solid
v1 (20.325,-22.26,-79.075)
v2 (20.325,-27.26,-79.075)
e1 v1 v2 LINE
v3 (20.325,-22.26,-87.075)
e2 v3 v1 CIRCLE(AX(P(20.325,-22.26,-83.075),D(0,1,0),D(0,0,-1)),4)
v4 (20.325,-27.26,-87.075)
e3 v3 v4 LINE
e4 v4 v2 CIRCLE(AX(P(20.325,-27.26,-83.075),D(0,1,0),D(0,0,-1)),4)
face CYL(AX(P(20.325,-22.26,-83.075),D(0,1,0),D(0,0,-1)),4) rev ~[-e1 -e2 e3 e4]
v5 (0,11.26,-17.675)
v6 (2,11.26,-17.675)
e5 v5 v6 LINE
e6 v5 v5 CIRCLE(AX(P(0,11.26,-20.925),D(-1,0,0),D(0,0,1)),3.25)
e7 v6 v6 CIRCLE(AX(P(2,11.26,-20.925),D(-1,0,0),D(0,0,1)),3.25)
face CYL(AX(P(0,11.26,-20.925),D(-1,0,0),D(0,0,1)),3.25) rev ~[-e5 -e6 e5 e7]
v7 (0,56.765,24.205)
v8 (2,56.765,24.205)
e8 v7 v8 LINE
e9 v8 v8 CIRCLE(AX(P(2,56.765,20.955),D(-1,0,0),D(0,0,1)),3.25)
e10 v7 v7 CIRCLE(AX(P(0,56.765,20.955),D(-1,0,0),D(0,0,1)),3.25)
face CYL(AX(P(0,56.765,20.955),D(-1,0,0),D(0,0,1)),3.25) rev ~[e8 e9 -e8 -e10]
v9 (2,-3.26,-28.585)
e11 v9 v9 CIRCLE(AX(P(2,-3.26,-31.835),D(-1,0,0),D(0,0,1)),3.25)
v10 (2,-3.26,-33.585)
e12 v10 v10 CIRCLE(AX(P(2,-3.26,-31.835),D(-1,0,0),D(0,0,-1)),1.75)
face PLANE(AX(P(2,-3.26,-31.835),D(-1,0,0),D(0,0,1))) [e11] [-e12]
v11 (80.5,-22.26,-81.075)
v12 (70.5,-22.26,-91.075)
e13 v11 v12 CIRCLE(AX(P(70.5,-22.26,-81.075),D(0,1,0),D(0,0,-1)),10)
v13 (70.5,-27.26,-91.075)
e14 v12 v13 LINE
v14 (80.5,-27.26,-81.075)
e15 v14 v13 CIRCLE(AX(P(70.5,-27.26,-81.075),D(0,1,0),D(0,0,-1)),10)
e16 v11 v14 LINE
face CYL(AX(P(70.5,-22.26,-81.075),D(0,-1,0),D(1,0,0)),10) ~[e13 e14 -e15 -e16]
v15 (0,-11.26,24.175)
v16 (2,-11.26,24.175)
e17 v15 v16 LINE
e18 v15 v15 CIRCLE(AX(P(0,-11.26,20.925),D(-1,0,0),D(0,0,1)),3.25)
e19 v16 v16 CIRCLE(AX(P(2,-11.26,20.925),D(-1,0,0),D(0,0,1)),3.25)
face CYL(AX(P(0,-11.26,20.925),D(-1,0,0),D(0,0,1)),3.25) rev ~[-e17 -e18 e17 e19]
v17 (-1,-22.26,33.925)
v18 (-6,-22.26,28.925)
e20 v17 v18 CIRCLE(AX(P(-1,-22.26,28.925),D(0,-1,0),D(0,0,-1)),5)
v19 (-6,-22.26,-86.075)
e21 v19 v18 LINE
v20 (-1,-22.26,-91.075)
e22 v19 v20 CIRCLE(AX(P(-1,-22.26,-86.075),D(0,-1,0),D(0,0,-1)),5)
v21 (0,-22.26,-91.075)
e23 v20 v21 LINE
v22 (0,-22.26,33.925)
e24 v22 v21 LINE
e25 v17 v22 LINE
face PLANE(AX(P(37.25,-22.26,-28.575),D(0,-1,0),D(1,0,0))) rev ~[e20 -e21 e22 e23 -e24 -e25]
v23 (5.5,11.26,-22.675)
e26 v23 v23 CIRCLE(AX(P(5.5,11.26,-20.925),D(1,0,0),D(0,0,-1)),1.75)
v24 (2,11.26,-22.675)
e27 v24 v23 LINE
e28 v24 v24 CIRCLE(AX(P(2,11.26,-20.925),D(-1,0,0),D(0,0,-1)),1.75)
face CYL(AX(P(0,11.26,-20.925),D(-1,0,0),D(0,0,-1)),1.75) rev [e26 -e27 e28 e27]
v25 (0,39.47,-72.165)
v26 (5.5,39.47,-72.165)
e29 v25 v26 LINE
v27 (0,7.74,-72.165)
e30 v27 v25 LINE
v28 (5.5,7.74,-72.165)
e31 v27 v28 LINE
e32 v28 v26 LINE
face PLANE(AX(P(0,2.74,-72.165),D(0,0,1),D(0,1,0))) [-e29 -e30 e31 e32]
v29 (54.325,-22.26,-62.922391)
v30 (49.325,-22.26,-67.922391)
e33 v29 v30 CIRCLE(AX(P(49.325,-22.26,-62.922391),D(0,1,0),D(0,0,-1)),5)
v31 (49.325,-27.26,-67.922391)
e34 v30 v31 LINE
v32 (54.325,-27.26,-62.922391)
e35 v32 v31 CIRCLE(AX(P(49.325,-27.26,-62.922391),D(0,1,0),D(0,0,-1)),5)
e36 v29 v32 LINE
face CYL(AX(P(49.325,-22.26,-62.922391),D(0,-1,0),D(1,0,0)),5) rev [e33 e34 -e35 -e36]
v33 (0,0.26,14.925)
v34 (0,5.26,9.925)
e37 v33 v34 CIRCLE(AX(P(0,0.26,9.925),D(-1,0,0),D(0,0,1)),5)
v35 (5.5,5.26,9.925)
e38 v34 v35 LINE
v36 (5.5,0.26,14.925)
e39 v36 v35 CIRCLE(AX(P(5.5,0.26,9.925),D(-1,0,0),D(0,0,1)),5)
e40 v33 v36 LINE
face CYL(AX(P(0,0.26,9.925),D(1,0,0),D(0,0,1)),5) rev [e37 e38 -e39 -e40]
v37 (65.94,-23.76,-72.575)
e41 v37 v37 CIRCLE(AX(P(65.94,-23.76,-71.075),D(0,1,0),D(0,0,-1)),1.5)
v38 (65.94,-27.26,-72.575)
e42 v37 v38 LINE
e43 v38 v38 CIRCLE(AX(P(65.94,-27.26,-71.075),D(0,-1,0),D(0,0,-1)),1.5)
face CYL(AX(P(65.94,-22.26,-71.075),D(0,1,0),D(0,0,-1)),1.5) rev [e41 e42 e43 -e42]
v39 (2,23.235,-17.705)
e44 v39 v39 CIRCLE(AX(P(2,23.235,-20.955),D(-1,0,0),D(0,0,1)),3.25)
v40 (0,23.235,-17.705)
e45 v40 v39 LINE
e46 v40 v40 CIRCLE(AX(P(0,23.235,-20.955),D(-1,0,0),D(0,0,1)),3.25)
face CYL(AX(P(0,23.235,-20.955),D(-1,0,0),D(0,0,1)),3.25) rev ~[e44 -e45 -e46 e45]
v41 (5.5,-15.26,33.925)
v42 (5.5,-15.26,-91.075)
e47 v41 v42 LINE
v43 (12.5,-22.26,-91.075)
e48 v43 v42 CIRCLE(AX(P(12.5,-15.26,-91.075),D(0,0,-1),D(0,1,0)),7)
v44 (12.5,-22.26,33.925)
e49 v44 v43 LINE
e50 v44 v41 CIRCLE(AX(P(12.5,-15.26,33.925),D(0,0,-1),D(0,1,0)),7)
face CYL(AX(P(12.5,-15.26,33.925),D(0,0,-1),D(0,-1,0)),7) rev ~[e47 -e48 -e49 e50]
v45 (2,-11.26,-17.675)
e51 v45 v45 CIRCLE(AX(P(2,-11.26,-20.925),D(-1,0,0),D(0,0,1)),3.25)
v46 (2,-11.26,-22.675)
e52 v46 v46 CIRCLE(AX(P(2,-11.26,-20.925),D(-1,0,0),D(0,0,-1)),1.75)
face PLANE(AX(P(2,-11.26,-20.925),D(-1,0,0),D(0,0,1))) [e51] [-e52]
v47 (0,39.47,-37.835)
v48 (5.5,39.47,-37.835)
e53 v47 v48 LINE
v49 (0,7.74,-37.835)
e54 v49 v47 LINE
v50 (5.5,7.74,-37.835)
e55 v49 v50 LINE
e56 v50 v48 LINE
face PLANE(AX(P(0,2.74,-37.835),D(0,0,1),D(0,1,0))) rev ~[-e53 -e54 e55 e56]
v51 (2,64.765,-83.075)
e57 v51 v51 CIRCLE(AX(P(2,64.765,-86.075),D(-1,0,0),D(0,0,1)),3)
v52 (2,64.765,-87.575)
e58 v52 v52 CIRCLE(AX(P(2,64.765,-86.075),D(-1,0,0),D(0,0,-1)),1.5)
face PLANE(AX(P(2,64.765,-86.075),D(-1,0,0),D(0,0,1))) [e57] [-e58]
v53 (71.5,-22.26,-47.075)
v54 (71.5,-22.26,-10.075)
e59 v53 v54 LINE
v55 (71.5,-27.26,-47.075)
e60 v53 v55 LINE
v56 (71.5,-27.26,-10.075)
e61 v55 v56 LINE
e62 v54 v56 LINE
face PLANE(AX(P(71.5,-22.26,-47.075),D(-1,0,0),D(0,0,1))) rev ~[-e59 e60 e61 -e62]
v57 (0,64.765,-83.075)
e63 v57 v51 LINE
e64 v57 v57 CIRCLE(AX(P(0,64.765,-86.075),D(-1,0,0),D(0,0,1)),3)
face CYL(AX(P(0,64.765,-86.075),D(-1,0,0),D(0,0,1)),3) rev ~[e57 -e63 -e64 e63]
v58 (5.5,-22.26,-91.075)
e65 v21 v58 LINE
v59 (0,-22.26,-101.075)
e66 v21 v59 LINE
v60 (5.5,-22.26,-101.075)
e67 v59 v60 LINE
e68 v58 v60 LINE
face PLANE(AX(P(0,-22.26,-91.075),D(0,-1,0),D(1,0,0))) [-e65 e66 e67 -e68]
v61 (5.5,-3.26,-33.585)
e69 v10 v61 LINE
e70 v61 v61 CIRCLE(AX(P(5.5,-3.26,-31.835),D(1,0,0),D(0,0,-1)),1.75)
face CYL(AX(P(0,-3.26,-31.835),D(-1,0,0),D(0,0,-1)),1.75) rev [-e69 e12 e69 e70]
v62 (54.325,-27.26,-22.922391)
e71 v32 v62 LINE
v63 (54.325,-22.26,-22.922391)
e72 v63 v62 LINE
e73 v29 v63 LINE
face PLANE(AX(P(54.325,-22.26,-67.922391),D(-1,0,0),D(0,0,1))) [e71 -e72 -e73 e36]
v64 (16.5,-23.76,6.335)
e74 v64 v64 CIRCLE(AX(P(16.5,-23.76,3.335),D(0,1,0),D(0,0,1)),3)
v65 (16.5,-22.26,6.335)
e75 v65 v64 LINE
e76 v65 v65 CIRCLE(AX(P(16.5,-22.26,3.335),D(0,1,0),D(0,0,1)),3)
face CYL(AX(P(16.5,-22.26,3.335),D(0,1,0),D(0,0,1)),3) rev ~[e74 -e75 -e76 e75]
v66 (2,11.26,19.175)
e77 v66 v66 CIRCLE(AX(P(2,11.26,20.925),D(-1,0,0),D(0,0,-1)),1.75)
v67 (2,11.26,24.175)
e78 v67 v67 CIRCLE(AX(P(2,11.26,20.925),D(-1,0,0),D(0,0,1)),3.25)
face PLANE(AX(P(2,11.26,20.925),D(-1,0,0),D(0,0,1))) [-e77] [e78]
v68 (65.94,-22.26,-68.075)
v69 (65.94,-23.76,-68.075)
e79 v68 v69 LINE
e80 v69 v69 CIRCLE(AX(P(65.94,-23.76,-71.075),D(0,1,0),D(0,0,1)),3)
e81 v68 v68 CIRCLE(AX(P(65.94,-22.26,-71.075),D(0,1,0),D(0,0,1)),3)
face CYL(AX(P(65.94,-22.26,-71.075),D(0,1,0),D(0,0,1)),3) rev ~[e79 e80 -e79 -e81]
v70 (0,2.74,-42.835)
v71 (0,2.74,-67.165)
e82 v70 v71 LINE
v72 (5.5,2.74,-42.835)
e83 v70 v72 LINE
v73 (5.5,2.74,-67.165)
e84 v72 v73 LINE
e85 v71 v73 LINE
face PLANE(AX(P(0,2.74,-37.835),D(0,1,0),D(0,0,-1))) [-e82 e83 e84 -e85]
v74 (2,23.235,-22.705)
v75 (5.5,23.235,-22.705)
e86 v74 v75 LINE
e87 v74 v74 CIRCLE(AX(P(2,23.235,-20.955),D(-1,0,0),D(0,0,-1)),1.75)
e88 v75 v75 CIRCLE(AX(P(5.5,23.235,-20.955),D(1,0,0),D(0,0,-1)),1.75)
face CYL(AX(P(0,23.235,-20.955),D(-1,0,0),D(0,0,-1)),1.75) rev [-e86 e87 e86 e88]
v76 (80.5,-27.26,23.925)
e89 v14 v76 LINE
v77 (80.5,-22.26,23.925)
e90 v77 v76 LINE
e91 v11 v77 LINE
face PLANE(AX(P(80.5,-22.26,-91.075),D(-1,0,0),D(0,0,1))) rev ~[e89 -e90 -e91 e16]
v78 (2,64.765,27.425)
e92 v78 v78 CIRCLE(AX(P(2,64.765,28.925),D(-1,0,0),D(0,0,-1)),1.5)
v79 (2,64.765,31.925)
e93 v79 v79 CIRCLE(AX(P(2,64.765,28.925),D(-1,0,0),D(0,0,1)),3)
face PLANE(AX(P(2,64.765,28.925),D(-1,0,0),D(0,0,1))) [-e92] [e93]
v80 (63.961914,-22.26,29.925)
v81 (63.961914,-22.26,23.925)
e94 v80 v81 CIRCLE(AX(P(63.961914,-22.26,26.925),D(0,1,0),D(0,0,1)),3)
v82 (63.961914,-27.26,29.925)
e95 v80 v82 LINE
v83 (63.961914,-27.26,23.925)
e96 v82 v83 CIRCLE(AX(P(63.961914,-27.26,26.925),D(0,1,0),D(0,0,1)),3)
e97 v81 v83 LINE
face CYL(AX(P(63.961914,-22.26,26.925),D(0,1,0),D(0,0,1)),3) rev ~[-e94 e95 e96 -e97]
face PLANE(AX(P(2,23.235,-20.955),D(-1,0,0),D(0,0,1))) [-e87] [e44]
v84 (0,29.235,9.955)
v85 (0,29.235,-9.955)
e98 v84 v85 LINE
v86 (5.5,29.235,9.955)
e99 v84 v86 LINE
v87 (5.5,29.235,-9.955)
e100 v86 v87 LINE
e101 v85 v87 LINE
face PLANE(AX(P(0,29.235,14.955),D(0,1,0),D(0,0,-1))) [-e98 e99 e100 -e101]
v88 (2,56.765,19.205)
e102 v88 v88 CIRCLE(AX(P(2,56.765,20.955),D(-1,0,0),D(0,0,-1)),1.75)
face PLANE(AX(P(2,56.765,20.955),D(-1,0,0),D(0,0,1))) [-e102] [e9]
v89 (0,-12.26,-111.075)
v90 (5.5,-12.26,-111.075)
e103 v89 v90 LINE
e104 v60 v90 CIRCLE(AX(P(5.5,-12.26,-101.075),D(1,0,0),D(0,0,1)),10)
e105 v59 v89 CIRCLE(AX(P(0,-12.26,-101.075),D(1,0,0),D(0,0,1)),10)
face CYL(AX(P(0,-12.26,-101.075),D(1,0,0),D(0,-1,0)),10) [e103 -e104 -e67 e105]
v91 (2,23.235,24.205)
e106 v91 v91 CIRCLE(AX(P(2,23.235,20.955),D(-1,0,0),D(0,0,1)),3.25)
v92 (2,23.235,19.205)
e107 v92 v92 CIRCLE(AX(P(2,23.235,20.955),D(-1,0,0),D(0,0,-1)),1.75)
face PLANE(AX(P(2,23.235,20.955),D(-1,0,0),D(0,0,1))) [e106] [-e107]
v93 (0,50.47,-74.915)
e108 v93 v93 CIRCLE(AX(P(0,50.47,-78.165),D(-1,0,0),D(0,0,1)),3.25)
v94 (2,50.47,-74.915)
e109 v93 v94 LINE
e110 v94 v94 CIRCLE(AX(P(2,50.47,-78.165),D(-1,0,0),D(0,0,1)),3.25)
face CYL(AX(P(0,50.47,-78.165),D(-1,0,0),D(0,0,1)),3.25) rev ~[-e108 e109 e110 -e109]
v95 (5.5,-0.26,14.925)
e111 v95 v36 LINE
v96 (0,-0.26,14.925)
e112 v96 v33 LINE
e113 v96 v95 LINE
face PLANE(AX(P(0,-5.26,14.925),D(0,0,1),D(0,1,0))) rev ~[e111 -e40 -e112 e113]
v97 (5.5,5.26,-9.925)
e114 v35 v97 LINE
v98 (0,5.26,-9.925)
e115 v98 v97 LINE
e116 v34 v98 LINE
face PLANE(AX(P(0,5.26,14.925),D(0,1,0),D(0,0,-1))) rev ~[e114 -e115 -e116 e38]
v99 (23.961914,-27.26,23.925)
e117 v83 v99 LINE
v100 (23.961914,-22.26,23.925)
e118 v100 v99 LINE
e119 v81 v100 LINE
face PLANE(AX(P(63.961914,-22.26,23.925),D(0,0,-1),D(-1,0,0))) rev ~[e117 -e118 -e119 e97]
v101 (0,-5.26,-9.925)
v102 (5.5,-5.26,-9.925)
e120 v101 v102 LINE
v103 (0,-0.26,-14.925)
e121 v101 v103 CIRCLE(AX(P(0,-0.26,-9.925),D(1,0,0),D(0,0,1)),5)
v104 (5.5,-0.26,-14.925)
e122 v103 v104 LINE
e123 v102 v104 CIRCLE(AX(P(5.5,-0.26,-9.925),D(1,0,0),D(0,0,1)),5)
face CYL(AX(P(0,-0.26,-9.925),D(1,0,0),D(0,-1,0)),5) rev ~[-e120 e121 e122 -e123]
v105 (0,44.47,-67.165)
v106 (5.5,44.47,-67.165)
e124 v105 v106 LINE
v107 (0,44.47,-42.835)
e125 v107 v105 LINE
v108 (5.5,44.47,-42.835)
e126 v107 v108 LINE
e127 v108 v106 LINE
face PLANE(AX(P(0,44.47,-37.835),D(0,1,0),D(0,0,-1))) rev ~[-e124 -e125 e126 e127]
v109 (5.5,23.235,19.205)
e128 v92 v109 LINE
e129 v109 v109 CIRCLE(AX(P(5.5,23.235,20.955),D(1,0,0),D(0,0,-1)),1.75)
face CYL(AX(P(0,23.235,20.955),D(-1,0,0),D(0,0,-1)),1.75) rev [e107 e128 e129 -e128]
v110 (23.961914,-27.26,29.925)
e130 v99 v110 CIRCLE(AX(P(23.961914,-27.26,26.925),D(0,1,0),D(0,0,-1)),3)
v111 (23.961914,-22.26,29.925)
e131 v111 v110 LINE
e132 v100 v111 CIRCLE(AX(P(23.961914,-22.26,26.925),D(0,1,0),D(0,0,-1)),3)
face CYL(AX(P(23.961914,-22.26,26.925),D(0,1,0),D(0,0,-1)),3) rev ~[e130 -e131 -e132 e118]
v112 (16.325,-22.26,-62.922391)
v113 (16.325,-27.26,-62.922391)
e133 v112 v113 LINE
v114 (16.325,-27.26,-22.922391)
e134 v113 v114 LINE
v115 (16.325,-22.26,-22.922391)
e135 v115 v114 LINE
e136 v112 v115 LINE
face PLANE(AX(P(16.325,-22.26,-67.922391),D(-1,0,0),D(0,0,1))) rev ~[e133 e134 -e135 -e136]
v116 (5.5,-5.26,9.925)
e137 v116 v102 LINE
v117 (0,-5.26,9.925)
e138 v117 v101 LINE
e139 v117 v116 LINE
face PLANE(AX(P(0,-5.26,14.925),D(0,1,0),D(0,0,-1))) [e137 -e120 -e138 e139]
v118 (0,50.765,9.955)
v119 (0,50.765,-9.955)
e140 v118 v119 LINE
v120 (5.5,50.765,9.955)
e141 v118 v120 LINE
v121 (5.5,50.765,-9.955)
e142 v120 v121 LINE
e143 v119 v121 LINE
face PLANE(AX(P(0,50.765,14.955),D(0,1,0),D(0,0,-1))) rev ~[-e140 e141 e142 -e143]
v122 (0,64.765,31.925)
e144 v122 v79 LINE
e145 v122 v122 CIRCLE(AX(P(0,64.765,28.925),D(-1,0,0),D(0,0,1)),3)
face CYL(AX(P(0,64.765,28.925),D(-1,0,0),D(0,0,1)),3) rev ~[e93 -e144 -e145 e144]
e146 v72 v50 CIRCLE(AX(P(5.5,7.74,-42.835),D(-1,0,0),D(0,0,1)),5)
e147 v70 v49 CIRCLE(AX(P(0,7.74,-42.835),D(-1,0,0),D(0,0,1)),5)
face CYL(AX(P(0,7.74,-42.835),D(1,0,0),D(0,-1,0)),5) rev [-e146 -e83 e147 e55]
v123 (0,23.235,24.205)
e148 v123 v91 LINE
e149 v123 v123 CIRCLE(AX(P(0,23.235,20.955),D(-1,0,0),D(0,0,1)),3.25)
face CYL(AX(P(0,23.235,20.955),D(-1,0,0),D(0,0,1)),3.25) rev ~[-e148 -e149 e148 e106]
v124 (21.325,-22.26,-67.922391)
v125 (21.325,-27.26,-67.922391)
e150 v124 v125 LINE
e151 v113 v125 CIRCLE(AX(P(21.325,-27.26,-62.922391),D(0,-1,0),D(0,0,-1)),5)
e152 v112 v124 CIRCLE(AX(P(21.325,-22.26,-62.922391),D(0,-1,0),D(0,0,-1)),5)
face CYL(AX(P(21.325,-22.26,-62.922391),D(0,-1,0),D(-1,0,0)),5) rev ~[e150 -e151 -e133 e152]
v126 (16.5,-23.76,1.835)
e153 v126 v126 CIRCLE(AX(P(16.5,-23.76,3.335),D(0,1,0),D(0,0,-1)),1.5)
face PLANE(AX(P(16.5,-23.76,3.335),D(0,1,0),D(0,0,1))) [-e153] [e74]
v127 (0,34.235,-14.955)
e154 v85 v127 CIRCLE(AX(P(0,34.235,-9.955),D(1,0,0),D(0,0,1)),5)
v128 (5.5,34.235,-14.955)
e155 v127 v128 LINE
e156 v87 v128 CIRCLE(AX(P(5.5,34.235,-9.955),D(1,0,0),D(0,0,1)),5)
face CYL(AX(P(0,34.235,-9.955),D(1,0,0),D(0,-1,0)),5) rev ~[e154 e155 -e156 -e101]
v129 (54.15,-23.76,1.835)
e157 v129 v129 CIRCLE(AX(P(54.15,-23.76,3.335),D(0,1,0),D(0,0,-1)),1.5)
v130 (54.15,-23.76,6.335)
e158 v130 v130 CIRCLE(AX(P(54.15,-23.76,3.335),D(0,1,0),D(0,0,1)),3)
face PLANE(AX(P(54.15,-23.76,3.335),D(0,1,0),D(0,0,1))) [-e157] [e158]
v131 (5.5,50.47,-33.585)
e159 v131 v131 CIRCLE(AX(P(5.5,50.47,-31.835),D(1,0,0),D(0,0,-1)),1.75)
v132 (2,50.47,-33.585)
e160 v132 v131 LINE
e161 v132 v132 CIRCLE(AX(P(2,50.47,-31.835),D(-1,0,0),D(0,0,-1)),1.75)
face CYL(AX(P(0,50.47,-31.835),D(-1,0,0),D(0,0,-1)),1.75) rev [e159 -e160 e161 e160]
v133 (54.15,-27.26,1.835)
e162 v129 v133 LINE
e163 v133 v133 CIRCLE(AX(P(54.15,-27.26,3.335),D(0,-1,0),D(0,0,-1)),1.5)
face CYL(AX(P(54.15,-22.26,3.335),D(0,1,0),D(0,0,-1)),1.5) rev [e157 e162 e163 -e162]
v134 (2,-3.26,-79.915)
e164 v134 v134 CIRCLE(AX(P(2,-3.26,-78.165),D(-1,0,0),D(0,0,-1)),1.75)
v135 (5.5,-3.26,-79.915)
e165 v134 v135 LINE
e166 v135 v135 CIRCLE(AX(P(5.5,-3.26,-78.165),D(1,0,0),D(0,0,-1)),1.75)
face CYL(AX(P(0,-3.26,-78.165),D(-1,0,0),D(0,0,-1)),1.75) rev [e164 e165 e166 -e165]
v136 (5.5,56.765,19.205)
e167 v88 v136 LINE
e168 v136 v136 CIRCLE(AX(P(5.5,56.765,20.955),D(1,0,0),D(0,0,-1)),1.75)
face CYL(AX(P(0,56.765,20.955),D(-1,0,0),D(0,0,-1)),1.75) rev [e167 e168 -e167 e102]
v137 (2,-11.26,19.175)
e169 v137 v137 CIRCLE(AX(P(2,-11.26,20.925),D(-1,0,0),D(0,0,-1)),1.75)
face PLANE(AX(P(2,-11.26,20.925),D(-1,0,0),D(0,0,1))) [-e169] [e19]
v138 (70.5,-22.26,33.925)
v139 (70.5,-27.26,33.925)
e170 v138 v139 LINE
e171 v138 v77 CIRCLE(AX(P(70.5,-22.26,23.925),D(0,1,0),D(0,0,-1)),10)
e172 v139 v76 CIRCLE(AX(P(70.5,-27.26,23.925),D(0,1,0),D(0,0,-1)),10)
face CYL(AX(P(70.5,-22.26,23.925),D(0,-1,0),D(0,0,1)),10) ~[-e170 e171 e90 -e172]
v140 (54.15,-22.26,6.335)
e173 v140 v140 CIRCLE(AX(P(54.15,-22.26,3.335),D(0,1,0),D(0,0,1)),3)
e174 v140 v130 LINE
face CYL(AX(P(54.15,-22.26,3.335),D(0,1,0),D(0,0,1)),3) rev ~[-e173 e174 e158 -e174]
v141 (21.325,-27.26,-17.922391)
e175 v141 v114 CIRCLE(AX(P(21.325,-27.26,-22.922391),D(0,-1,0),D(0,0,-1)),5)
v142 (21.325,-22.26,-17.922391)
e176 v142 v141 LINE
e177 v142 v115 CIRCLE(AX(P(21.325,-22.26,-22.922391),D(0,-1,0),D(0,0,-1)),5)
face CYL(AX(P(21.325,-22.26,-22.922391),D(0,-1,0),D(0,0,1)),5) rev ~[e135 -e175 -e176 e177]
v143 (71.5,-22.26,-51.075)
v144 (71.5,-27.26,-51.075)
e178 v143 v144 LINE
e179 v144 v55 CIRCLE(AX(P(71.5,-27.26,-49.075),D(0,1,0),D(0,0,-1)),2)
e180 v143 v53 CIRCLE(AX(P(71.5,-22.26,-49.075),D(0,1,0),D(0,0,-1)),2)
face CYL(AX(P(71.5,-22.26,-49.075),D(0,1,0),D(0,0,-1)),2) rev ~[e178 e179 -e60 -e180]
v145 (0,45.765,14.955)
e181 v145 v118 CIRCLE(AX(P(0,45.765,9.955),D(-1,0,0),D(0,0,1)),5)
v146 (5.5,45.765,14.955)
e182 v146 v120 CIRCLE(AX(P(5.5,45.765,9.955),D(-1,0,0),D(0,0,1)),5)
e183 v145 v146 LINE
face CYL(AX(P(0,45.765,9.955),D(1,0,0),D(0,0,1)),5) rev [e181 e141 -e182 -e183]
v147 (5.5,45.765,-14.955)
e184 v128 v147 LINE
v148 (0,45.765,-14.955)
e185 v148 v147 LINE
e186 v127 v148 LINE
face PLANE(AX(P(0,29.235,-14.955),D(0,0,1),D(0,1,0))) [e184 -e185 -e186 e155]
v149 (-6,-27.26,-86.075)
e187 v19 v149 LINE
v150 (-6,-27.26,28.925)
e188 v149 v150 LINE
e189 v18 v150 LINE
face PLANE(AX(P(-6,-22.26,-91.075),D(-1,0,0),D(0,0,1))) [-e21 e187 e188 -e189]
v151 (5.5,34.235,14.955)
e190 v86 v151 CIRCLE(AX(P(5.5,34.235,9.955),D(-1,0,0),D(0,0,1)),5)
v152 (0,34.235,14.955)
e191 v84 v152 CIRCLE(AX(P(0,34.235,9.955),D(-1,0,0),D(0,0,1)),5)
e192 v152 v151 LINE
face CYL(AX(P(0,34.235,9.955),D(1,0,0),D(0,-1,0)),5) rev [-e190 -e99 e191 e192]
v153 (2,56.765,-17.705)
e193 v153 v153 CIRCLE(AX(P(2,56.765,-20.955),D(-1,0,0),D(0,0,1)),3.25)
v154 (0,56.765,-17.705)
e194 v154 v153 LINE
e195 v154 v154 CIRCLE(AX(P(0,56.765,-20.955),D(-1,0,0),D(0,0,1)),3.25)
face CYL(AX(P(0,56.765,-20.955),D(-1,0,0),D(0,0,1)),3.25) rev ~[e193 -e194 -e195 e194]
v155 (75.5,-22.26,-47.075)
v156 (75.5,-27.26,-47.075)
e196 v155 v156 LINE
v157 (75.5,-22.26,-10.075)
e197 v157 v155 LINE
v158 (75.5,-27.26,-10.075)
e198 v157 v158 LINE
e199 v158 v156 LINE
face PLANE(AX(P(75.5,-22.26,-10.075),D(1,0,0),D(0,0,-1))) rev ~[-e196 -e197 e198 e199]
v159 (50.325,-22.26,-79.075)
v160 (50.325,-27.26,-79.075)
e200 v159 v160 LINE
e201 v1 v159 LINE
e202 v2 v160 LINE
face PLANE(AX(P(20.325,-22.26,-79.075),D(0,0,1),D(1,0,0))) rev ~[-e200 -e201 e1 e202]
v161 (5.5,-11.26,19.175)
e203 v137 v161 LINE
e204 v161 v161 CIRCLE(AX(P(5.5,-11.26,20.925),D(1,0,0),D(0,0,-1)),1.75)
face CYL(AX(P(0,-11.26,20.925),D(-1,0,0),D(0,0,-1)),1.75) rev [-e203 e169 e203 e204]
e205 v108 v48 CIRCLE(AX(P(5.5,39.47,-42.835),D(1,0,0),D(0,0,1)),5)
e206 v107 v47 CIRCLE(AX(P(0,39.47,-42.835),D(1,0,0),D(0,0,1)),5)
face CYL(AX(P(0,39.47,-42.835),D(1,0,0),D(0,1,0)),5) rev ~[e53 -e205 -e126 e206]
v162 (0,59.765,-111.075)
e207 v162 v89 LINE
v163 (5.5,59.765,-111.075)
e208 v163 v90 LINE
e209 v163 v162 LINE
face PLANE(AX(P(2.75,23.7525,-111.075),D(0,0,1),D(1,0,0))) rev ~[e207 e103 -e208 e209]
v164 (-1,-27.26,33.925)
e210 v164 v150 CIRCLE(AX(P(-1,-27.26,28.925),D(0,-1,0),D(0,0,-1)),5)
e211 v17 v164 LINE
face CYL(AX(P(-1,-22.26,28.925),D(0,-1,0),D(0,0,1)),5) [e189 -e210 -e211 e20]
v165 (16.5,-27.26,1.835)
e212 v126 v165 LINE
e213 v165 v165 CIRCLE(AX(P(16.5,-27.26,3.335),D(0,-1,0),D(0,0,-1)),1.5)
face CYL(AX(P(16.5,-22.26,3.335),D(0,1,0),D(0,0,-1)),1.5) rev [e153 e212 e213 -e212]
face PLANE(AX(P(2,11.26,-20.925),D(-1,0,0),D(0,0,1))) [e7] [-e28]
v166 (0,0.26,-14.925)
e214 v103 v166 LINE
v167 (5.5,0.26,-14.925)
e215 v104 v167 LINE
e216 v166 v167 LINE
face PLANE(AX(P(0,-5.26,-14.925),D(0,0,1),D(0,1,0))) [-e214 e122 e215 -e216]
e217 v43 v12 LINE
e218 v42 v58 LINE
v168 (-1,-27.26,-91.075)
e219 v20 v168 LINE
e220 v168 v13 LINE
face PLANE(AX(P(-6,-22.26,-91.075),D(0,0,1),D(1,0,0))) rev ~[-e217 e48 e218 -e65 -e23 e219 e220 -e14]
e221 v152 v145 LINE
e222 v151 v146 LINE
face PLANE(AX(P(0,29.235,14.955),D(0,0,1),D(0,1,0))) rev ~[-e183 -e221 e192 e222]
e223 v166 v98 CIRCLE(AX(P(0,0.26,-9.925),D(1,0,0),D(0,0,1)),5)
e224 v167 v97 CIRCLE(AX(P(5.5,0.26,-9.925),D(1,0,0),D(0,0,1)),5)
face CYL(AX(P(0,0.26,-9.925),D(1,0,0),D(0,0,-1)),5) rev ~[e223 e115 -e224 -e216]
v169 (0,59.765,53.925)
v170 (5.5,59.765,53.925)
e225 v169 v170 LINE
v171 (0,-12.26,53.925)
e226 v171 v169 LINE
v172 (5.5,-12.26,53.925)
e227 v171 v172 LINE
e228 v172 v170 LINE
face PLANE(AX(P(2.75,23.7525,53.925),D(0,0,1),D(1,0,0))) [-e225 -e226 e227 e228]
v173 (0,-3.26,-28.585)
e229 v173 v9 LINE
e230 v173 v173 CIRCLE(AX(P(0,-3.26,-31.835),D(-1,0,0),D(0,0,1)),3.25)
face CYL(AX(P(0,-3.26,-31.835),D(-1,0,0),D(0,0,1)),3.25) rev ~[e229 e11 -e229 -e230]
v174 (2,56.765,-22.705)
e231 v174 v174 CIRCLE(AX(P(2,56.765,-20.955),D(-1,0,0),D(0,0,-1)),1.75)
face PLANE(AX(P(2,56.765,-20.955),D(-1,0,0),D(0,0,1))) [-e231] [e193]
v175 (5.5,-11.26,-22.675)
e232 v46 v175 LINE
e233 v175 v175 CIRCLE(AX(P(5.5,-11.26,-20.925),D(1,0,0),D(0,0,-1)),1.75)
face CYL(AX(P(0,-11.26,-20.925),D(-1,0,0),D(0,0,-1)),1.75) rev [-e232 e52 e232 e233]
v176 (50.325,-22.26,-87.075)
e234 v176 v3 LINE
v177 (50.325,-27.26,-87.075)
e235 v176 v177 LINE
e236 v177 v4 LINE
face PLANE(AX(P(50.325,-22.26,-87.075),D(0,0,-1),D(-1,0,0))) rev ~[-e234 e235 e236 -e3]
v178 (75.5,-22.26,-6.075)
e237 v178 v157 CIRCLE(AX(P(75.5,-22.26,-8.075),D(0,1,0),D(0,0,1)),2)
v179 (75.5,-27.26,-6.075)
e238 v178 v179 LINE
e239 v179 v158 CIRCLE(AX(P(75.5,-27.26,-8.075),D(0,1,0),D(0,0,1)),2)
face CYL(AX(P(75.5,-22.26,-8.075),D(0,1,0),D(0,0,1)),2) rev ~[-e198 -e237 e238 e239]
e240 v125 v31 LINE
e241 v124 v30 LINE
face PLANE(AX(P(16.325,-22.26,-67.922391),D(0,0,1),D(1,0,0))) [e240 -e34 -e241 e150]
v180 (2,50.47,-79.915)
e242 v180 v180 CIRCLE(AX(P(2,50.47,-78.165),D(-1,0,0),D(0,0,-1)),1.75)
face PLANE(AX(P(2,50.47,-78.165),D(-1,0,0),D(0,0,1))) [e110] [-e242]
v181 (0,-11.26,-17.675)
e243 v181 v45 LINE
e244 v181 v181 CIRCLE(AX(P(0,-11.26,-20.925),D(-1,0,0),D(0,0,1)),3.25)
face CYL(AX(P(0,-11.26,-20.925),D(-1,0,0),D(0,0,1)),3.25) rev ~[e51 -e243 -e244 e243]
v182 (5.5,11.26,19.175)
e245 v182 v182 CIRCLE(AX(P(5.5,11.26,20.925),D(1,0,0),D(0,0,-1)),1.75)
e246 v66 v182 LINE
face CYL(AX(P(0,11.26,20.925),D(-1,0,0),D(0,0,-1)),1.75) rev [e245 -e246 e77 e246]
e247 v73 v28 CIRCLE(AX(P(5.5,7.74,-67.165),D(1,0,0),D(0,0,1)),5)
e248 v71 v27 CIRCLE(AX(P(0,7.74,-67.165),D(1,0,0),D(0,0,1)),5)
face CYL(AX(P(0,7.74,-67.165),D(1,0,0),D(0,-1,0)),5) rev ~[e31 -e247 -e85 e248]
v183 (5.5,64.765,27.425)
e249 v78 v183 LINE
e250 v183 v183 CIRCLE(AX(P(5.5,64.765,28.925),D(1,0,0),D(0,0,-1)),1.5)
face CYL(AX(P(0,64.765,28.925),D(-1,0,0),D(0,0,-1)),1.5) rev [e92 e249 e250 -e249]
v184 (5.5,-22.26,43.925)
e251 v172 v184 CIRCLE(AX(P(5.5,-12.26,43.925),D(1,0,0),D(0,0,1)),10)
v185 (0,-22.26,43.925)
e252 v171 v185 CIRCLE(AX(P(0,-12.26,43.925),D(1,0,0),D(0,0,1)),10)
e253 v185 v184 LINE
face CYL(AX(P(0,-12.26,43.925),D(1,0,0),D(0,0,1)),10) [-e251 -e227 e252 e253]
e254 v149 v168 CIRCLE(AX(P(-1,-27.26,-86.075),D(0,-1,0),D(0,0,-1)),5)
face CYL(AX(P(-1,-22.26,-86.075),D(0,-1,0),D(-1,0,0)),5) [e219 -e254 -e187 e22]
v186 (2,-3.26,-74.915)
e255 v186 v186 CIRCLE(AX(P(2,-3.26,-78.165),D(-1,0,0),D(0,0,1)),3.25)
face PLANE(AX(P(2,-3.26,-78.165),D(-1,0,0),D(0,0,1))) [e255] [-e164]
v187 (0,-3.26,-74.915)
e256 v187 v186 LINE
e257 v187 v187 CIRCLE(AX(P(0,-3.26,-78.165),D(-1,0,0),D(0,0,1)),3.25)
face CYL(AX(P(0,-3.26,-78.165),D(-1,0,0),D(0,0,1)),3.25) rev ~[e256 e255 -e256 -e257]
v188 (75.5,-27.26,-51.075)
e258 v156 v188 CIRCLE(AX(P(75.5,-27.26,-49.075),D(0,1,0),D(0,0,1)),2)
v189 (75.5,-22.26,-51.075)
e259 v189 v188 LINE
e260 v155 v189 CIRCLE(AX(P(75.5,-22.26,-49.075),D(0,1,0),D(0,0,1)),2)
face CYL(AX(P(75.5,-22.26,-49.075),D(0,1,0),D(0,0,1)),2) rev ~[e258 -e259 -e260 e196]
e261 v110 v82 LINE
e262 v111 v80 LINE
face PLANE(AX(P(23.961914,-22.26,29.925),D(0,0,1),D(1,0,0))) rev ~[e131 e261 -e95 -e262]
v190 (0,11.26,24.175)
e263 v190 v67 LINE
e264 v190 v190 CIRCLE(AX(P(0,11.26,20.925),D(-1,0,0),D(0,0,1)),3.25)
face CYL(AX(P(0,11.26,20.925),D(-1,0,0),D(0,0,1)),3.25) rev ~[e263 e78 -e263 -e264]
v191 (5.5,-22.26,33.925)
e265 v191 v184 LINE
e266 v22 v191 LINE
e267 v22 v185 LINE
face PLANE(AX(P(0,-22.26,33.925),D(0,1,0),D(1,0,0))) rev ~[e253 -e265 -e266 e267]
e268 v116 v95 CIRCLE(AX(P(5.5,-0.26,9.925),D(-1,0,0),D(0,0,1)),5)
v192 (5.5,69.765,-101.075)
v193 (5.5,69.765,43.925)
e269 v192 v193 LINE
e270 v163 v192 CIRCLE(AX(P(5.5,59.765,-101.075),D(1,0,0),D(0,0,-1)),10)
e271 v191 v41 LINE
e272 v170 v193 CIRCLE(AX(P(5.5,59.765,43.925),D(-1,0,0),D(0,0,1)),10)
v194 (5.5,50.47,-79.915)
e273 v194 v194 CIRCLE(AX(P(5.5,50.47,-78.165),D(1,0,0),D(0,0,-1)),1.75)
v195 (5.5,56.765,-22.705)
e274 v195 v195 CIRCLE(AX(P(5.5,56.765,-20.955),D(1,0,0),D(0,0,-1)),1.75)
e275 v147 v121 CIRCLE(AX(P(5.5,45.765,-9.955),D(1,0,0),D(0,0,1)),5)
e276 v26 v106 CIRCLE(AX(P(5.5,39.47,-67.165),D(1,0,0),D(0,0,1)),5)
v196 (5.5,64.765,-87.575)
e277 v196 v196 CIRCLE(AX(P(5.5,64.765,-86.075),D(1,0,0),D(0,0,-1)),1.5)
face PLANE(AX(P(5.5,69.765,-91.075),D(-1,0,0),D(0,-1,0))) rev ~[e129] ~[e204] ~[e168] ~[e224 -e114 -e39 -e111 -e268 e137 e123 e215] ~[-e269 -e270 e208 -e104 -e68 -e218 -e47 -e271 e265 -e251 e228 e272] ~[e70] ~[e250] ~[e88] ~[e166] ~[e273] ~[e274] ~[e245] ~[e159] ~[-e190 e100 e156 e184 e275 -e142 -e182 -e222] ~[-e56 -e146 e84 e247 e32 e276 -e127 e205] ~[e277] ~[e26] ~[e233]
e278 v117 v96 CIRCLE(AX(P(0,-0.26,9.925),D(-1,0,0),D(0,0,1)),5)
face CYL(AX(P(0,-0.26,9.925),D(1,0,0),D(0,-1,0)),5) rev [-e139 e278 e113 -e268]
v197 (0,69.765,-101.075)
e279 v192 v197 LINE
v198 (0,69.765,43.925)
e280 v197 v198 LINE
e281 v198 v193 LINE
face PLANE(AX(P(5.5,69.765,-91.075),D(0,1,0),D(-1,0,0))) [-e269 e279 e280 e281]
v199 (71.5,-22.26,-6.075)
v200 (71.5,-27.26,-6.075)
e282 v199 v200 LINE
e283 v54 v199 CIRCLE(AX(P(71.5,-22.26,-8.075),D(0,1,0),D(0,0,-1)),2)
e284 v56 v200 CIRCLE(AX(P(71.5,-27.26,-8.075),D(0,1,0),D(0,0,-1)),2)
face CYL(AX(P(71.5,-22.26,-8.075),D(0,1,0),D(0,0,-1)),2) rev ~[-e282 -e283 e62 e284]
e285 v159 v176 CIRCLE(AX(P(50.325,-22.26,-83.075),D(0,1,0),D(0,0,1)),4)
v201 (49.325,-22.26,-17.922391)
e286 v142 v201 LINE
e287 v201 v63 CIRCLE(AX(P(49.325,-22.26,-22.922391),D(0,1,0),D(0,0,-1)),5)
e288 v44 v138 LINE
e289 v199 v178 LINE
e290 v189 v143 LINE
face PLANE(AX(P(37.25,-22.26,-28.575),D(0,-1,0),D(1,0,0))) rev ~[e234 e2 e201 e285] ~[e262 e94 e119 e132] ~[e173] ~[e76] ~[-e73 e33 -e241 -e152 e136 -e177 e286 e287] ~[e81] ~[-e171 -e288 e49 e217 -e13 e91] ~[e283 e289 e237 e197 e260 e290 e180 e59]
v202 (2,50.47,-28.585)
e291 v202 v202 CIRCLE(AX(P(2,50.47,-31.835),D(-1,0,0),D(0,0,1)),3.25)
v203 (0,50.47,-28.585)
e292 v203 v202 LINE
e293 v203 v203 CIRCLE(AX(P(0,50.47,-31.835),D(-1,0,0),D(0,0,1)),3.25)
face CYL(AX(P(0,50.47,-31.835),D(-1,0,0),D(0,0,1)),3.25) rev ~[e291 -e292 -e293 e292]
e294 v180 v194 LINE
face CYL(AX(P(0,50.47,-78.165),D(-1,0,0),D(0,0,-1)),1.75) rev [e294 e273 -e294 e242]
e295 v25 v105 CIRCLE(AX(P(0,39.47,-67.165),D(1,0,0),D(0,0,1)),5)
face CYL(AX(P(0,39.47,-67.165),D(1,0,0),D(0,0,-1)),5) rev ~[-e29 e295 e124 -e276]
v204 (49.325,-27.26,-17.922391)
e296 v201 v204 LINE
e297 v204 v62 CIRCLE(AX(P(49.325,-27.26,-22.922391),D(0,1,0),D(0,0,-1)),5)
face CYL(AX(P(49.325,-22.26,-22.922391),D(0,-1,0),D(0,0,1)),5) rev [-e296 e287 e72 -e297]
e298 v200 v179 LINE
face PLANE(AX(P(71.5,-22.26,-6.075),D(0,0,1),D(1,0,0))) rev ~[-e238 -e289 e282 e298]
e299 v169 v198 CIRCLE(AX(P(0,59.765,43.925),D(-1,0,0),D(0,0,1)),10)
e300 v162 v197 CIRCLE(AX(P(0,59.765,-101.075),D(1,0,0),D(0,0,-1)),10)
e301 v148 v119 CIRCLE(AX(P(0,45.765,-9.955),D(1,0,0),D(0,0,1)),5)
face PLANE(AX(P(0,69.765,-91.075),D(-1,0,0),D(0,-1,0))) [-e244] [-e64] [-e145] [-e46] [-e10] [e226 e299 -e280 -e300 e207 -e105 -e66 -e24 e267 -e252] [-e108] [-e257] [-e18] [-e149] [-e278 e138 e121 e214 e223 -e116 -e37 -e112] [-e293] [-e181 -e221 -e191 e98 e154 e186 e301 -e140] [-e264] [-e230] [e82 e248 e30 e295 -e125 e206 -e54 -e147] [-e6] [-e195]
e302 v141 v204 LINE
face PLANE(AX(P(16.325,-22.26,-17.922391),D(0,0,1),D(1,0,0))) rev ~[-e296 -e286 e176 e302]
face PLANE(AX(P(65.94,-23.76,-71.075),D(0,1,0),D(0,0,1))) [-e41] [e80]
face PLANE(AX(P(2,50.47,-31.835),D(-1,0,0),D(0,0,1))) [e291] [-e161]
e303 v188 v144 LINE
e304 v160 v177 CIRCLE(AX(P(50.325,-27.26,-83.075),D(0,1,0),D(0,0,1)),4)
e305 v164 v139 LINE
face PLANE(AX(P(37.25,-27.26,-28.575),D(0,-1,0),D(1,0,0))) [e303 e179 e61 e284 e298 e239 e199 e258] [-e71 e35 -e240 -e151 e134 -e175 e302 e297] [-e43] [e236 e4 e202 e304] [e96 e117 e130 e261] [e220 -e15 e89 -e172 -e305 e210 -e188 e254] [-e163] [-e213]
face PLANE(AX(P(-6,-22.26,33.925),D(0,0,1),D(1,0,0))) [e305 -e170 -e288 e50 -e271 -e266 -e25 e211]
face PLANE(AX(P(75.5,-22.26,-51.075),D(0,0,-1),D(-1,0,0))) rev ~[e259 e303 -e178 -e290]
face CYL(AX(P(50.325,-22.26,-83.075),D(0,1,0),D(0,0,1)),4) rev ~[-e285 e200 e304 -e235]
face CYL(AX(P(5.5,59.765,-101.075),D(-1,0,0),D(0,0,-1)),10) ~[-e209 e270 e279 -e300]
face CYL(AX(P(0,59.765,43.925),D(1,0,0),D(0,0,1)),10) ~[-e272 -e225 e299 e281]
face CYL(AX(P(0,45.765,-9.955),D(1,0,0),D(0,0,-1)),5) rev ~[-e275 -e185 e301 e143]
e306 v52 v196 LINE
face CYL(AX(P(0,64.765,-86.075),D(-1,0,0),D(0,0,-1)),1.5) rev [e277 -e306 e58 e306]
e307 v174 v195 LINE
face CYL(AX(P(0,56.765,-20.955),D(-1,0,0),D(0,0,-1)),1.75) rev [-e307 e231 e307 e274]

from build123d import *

# Parameters (mm, degrees)
SKETCH_1_W          = 125
SKETCH_1_H          = 92.025
SKETCH_1_R          = 1.75
SKETCH_1_R_2        = 1.5
SKETCH_1_W_2        = 29.91
SKETCH_1_H_2        = 21.53
SKETCH_1_W_3        = 29.85
SKETCH_1_H_3        = 10.52
SKETCH_1_W_4        = 34.33
SKETCH_1_H_4        = 41.73
EXTRUDE_1_DEPTH     = 5.5
FILLET_1_R          = 5
SKETCH_2_R          = 3
SKETCH_2_R_2        = 1.5
SKETCH_2_R_3        = 3.25
SKETCH_2_R_4        = 1.75
CUT_EXTRUDE_1_DEPTH = 2
SKETCH_3_W          = 86.5
SKETCH_3_H          = 125
SKETCH_3_W_2        = 38
SKETCH_3_H_2        = 50
SKETCH_3_R          = 1.5
EXTRUDE_2_DEPTH     = 5
SKETCH_6_R          = 3
SKETCH_6_R_2        = 1.5
CUT_EXTRUDE_2_DEPTH = 1.5
FILLET_3_R          = 7
FILLET_4_R          = 10
SKETCH_7_W          = 5.5
SKETCH_7_H          = 92.025
EXTRUDE_5_DEPTH     = 20
FILLET_6_R          = 5
EXTRUDE_6_DEPTH     = 20
FILLET_5_R          = 10


with BuildPart() as part:
    # 草图1 → 凸台-拉伸1 (new body)
    with BuildSketch(Plane(origin=(0, 0, 0), x_dir=(0, 0, -1), z_dir=(1, 0, 0))):
        with Locations((28.575, 23.7525)):
            Rectangle(SKETCH_1_W, SKETCH_1_H)
        with Locations((-20.925, 11.26)):
            Circle(SKETCH_1_R, mode=Mode.SUBTRACT)
        with Locations((20.925, 11.26)):
            Circle(SKETCH_1_R, mode=Mode.SUBTRACT)
        with Locations((20.925, -11.26)):
            Circle(SKETCH_1_R, mode=Mode.SUBTRACT)
        with Locations((-20.925, -11.26)):
            Circle(SKETCH_1_R, mode=Mode.SUBTRACT)
        with Locations((-20.955, 56.765)):
            Circle(SKETCH_1_R, mode=Mode.SUBTRACT)
        with Locations((20.955, 56.765)):
            Circle(SKETCH_1_R, mode=Mode.SUBTRACT)
        with Locations((20.955, 23.235)):
            Circle(SKETCH_1_R, mode=Mode.SUBTRACT)
        with Locations((-20.955, 23.235)):
            Circle(SKETCH_1_R, mode=Mode.SUBTRACT)
        with Locations((31.835, 50.47)):
            Circle(SKETCH_1_R, mode=Mode.SUBTRACT)
        with Locations((78.165, 50.47)):
            Circle(SKETCH_1_R, mode=Mode.SUBTRACT)
        with Locations((78.165, -3.26)):
            Circle(SKETCH_1_R, mode=Mode.SUBTRACT)
        with Locations((31.835, -3.26)):
            Circle(SKETCH_1_R, mode=Mode.SUBTRACT)
        with Locations((-28.925, 64.765)):
            Circle(SKETCH_1_R_2, mode=Mode.SUBTRACT)
        with Locations((86.075, 64.765)):
            Circle(SKETCH_1_R_2, mode=Mode.SUBTRACT)
        with Locations((0, 40)):
            Rectangle(SKETCH_1_W_2, SKETCH_1_H_2, mode=Mode.SUBTRACT)
        Rectangle(SKETCH_1_W_3, SKETCH_1_H_3, mode=Mode.SUBTRACT)
        with Locations((55, 23.605)):
            Rectangle(SKETCH_1_W_4, SKETCH_1_H_4, mode=Mode.SUBTRACT)
    extrude(amount=EXTRUDE_1_DEPTH)

    # 圆角1
    fillet_1_edges = [part.edges().sort_by_distance(p)[0] for p in [
        (2.75, 50.765, 14.955),
        (2.75, 29.235, 14.955),
        (2.75, 29.235, -14.955),
        (2.75, 50.765, -14.955),
        (2.75, 5.26, -14.925),
        (2.75, 5.26, 14.925),
        (2.75, -5.26, 14.925),
        (2.75, -5.26, -14.925),
        (2.75, 44.47, -72.165),
        (2.75, 44.47, -37.835),
        (2.75, 2.74, -37.835),
        (2.75, 2.74, -72.165),
    ]]
    fillet(fillet_1_edges, radius=FILLET_1_R)

    # 草图2 → 切除-拉伸1 (cut)
    # profile 1 of 14: a face of its own
    with BuildSketch(Plane.ZY):
        with Locations((-86.075, 64.765)):
            Circle(SKETCH_2_R)
        with Locations((-86.075, 64.765)):
            Circle(SKETCH_2_R_2, mode=Mode.SUBTRACT)
    # profile 2 of 14: a face of its own
    with BuildSketch(Plane.ZY):
        with Locations((-78.165, 50.47)):
            Circle(SKETCH_2_R_3)
        with Locations((-78.165, 50.47)):
            Circle(SKETCH_2_R_4, mode=Mode.SUBTRACT)
    # profile 3 of 14: a face of its own
    with BuildSketch(Plane.ZY):
        with Locations((-31.835, 50.47)):
            Circle(SKETCH_2_R_3)
        with Locations((-31.835, 50.47)):
            Circle(SKETCH_2_R_4, mode=Mode.SUBTRACT)
    # profile 4 of 14: a face of its own
    with BuildSketch(Plane.ZY):
        with Locations((-78.165, -3.26)):
            Circle(SKETCH_2_R_3)
        with Locations((-78.165, -3.26)):
            Circle(SKETCH_2_R_4, mode=Mode.SUBTRACT)
    # profile 5 of 14: a face of its own
    with BuildSketch(Plane.ZY):
        with Locations((-31.835, -3.26)):
            Circle(SKETCH_2_R_3)
        with Locations((-31.835, -3.26)):
            Circle(SKETCH_2_R_4, mode=Mode.SUBTRACT)
    # profile 6 of 14: a face of its own
    with BuildSketch(Plane.ZY):
        with Locations((-20.925, -11.26)):
            Circle(SKETCH_2_R_3)
        with Locations((-20.925, -11.26)):
            Circle(SKETCH_2_R_4, mode=Mode.SUBTRACT)
    # profile 7 of 14: a face of its own
    with BuildSketch(Plane.ZY):
        with Locations((-20.955, 23.235)):
            Circle(SKETCH_2_R_3)
        with Locations((-20.955, 23.235)):
            Circle(SKETCH_2_R_4, mode=Mode.SUBTRACT)
    # profile 8 of 14: a face of its own
    with BuildSketch(Plane.ZY):
        with Locations((-20.925, 11.26)):
            Circle(SKETCH_2_R_3)
        with Locations((-20.925, 11.26)):
            Circle(SKETCH_2_R_4, mode=Mode.SUBTRACT)
    # profile 9 of 14: a face of its own
    with BuildSketch(Plane.ZY):
        with Locations((20.955, 56.765)):
            Circle(SKETCH_2_R_3)
        with Locations((20.955, 56.765)):
            Circle(SKETCH_2_R_4, mode=Mode.SUBTRACT)
    # profile 10 of 14: a face of its own
    with BuildSketch(Plane.ZY):
        with Locations((28.925, 64.765)):
            Circle(SKETCH_2_R)
        with Locations((28.925, 64.765)):
            Circle(SKETCH_2_R_2, mode=Mode.SUBTRACT)
    # profile 11 of 14: a face of its own
    with BuildSketch(Plane.ZY):
        with Locations((20.955, 23.235)):
            Circle(SKETCH_2_R_3)
        with Locations((20.955, 23.235)):
            Circle(SKETCH_2_R_4, mode=Mode.SUBTRACT)
    # profile 12 of 14: a face of its own
    with BuildSketch(Plane.ZY):
        with Locations((20.925, 11.26)):
            Circle(SKETCH_2_R_3)
        with Locations((20.925, 11.26)):
            Circle(SKETCH_2_R_4, mode=Mode.SUBTRACT)
    # profile 13 of 14: a face of its own
    with BuildSketch(Plane.ZY):
        with Locations((20.925, -11.26)):
            Circle(SKETCH_2_R_3)
        with Locations((20.925, -11.26)):
            Circle(SKETCH_2_R_4, mode=Mode.SUBTRACT)
    # profile 14 of 14: a face of its own
    with BuildSketch(Plane.ZY):
        with Locations((-20.955, 56.765)):
            Circle(SKETCH_2_R_3)
    extrude(amount=-CUT_EXTRUDE_1_DEPTH, mode=Mode.SUBTRACT)

    # 草图3 → 凸台-拉伸2 (add)
    with BuildSketch(Plane.XZ.offset(22.26)):
        with Locations((37.25, -28.575)):
            Rectangle(SKETCH_3_W, SKETCH_3_H)
        with BuildLine():
            ThreePointArc((50.325, -79.075), (54.325, -83.075), (50.325, -87.075))
            Line((50.325, -87.075), (20.325, -87.075))
            ThreePointArc((20.325, -87.075), (16.325, -83.075), (20.325, -79.075))
            Line((20.325, -79.075), (50.325, -79.075))
        make_face(mode=Mode.SUBTRACT)
        with Locations((35.325, -42.922390802)):
            Rectangle(SKETCH_3_W_2, SKETCH_3_H_2, mode=Mode.SUBTRACT)
        with Locations(Location((65.94, -71.075, 0), (0, 0, 270))):
            Circle(SKETCH_3_R, mode=Mode.SUBTRACT)
        with BuildLine():
            ThreePointArc((71.5, -10.075), (69.5, -8.075), (71.5, -6.075))
            Line((71.5, -6.075), (75.5, -6.075))
            ThreePointArc((75.5, -6.075), (77.5, -8.075), (75.5, -10.075))
            Line((75.5, -10.075), (75.5, -47.075))
            ThreePointArc((75.5, -47.075), (77.5, -49.075), (75.5, -51.075))
            Line((75.5, -51.075), (71.5, -51.075))
            ThreePointArc((71.5, -51.075), (69.5, -49.075), (71.5, -47.075))
            Line((71.5, -47.075), (71.5, -10.075))
        make_face(mode=Mode.SUBTRACT)
        with Locations(Location((16.5, 3.335, 0), (0, 0, 270))):
            Circle(SKETCH_3_R, mode=Mode.SUBTRACT)
        with Locations(Location((54.15, 3.335, 0), (0, 0, 270))):
            Circle(SKETCH_3_R, mode=Mode.SUBTRACT)
        with BuildLine():
            ThreePointArc((63.961913607, 29.925), (66.961913607, 26.925), (63.961913607, 23.925))
            Line((63.961913607, 23.925), (23.961913607, 23.925))
            ThreePointArc((23.961913607, 23.925), (20.961913607, 26.925), (23.961913607, 29.925))
            Line((23.961913607, 29.925), (63.961913607, 29.925))
        make_face(mode=Mode.SUBTRACT)
    extrude(amount=EXTRUDE_2_DEPTH)

    # 草图6 → 切除-拉伸2 (cut)
    # profile 1 of 3: a face of its own
    with BuildSketch(Plane(origin=(0, -22.26, 0), x_dir=(1, 0, 0), z_dir=(0, 1, 0))):
        with Locations(Location((65.94, 71.075, 0), (0, 0, 270))):
            Circle(SKETCH_6_R)
        with Locations(Location((65.94, 71.075, 0), (0, 0, 270))):
            Circle(SKETCH_6_R_2, mode=Mode.SUBTRACT)
    # profile 2 of 3: a face of its own
    with BuildSketch(Plane(origin=(0, -22.26, 0), x_dir=(1, 0, 0), z_dir=(0, 1, 0))):
        with Locations(Location((54.15, -3.335, 0), (0, 0, 270))):
            Circle(SKETCH_6_R)
        with Locations(Location((54.15, -3.335, 0), (0, 0, 270))):
            Circle(SKETCH_6_R_2, mode=Mode.SUBTRACT)
    # profile 3 of 3: a face of its own
    with BuildSketch(Plane(origin=(0, -22.26, 0), x_dir=(1, 0, 0), z_dir=(0, 1, 0))):
        with Locations(Location((16.5, -3.335, 0), (0, 0, 270))):
            Circle(SKETCH_6_R)
        with Locations(Location((16.5, -3.335, 0), (0, 0, 270))):
            Circle(SKETCH_6_R_2, mode=Mode.SUBTRACT)
    extrude(amount=-CUT_EXTRUDE_2_DEPTH, mode=Mode.SUBTRACT)

    # 圆角3
    fillet_3_edges = [part.edges().sort_by_distance(p)[0] for p in [
        (5.5, -22.26, -28.575),
    ]]
    fillet(fillet_3_edges, radius=FILLET_3_R)

    # 圆角4
    fillet_4_edges = [part.edges().sort_by_distance(p)[0] for p in [
        (80.5, -24.76, -91.075),
        (80.5, -24.76, 33.925),
    ]]
    fillet(fillet_4_edges, radius=FILLET_4_R)

    # 草图7 → 凸台-拉伸5 (add)
    with BuildSketch(Plane.XY.offset(33.925)):
        with Locations((2.75, 23.7525)):
            Rectangle(SKETCH_7_W, SKETCH_7_H)
    extrude(amount=EXTRUDE_5_DEPTH)

    # 圆角6
    fillet_6_edges = [part.edges().sort_by_distance(p)[0] for p in [
        (-6, -24.76, -91.075),
        (16.325, -24.76, -67.922390802),
        (16.325, -24.76, -17.922390802),
        (54.325, -24.76, -17.922390802),
        (-6, -24.76, 33.925),
        (54.325, -24.76, -67.922390802),
    ]]
    fillet(fillet_6_edges, radius=FILLET_6_R)

    # 草图8 → 凸台-拉伸6 (add)
    with BuildSketch(Plane(origin=(0, 0, -91.075), x_dir=(-1, 0, 0), z_dir=(0, 0, -1))):
        Polygon((-5.5, -22.26), (-5.5, -15.26), (-5.5, 69.765), (0, 69.765), (0, -22.26), align=None)
    extrude(amount=EXTRUDE_6_DEPTH)

    # 圆角5
    fillet_5_edges = [part.edges().sort_by_distance(p)[0] for p in [
        (2.75, -22.26, 53.925),
        (2.75, 69.765, 53.925),
        (2.75, -22.26, -111.075),
        (2.75, 69.765, -111.075),
    ]]
    fillet(fillet_5_edges, radius=FILLET_5_R)


solid = part.part
